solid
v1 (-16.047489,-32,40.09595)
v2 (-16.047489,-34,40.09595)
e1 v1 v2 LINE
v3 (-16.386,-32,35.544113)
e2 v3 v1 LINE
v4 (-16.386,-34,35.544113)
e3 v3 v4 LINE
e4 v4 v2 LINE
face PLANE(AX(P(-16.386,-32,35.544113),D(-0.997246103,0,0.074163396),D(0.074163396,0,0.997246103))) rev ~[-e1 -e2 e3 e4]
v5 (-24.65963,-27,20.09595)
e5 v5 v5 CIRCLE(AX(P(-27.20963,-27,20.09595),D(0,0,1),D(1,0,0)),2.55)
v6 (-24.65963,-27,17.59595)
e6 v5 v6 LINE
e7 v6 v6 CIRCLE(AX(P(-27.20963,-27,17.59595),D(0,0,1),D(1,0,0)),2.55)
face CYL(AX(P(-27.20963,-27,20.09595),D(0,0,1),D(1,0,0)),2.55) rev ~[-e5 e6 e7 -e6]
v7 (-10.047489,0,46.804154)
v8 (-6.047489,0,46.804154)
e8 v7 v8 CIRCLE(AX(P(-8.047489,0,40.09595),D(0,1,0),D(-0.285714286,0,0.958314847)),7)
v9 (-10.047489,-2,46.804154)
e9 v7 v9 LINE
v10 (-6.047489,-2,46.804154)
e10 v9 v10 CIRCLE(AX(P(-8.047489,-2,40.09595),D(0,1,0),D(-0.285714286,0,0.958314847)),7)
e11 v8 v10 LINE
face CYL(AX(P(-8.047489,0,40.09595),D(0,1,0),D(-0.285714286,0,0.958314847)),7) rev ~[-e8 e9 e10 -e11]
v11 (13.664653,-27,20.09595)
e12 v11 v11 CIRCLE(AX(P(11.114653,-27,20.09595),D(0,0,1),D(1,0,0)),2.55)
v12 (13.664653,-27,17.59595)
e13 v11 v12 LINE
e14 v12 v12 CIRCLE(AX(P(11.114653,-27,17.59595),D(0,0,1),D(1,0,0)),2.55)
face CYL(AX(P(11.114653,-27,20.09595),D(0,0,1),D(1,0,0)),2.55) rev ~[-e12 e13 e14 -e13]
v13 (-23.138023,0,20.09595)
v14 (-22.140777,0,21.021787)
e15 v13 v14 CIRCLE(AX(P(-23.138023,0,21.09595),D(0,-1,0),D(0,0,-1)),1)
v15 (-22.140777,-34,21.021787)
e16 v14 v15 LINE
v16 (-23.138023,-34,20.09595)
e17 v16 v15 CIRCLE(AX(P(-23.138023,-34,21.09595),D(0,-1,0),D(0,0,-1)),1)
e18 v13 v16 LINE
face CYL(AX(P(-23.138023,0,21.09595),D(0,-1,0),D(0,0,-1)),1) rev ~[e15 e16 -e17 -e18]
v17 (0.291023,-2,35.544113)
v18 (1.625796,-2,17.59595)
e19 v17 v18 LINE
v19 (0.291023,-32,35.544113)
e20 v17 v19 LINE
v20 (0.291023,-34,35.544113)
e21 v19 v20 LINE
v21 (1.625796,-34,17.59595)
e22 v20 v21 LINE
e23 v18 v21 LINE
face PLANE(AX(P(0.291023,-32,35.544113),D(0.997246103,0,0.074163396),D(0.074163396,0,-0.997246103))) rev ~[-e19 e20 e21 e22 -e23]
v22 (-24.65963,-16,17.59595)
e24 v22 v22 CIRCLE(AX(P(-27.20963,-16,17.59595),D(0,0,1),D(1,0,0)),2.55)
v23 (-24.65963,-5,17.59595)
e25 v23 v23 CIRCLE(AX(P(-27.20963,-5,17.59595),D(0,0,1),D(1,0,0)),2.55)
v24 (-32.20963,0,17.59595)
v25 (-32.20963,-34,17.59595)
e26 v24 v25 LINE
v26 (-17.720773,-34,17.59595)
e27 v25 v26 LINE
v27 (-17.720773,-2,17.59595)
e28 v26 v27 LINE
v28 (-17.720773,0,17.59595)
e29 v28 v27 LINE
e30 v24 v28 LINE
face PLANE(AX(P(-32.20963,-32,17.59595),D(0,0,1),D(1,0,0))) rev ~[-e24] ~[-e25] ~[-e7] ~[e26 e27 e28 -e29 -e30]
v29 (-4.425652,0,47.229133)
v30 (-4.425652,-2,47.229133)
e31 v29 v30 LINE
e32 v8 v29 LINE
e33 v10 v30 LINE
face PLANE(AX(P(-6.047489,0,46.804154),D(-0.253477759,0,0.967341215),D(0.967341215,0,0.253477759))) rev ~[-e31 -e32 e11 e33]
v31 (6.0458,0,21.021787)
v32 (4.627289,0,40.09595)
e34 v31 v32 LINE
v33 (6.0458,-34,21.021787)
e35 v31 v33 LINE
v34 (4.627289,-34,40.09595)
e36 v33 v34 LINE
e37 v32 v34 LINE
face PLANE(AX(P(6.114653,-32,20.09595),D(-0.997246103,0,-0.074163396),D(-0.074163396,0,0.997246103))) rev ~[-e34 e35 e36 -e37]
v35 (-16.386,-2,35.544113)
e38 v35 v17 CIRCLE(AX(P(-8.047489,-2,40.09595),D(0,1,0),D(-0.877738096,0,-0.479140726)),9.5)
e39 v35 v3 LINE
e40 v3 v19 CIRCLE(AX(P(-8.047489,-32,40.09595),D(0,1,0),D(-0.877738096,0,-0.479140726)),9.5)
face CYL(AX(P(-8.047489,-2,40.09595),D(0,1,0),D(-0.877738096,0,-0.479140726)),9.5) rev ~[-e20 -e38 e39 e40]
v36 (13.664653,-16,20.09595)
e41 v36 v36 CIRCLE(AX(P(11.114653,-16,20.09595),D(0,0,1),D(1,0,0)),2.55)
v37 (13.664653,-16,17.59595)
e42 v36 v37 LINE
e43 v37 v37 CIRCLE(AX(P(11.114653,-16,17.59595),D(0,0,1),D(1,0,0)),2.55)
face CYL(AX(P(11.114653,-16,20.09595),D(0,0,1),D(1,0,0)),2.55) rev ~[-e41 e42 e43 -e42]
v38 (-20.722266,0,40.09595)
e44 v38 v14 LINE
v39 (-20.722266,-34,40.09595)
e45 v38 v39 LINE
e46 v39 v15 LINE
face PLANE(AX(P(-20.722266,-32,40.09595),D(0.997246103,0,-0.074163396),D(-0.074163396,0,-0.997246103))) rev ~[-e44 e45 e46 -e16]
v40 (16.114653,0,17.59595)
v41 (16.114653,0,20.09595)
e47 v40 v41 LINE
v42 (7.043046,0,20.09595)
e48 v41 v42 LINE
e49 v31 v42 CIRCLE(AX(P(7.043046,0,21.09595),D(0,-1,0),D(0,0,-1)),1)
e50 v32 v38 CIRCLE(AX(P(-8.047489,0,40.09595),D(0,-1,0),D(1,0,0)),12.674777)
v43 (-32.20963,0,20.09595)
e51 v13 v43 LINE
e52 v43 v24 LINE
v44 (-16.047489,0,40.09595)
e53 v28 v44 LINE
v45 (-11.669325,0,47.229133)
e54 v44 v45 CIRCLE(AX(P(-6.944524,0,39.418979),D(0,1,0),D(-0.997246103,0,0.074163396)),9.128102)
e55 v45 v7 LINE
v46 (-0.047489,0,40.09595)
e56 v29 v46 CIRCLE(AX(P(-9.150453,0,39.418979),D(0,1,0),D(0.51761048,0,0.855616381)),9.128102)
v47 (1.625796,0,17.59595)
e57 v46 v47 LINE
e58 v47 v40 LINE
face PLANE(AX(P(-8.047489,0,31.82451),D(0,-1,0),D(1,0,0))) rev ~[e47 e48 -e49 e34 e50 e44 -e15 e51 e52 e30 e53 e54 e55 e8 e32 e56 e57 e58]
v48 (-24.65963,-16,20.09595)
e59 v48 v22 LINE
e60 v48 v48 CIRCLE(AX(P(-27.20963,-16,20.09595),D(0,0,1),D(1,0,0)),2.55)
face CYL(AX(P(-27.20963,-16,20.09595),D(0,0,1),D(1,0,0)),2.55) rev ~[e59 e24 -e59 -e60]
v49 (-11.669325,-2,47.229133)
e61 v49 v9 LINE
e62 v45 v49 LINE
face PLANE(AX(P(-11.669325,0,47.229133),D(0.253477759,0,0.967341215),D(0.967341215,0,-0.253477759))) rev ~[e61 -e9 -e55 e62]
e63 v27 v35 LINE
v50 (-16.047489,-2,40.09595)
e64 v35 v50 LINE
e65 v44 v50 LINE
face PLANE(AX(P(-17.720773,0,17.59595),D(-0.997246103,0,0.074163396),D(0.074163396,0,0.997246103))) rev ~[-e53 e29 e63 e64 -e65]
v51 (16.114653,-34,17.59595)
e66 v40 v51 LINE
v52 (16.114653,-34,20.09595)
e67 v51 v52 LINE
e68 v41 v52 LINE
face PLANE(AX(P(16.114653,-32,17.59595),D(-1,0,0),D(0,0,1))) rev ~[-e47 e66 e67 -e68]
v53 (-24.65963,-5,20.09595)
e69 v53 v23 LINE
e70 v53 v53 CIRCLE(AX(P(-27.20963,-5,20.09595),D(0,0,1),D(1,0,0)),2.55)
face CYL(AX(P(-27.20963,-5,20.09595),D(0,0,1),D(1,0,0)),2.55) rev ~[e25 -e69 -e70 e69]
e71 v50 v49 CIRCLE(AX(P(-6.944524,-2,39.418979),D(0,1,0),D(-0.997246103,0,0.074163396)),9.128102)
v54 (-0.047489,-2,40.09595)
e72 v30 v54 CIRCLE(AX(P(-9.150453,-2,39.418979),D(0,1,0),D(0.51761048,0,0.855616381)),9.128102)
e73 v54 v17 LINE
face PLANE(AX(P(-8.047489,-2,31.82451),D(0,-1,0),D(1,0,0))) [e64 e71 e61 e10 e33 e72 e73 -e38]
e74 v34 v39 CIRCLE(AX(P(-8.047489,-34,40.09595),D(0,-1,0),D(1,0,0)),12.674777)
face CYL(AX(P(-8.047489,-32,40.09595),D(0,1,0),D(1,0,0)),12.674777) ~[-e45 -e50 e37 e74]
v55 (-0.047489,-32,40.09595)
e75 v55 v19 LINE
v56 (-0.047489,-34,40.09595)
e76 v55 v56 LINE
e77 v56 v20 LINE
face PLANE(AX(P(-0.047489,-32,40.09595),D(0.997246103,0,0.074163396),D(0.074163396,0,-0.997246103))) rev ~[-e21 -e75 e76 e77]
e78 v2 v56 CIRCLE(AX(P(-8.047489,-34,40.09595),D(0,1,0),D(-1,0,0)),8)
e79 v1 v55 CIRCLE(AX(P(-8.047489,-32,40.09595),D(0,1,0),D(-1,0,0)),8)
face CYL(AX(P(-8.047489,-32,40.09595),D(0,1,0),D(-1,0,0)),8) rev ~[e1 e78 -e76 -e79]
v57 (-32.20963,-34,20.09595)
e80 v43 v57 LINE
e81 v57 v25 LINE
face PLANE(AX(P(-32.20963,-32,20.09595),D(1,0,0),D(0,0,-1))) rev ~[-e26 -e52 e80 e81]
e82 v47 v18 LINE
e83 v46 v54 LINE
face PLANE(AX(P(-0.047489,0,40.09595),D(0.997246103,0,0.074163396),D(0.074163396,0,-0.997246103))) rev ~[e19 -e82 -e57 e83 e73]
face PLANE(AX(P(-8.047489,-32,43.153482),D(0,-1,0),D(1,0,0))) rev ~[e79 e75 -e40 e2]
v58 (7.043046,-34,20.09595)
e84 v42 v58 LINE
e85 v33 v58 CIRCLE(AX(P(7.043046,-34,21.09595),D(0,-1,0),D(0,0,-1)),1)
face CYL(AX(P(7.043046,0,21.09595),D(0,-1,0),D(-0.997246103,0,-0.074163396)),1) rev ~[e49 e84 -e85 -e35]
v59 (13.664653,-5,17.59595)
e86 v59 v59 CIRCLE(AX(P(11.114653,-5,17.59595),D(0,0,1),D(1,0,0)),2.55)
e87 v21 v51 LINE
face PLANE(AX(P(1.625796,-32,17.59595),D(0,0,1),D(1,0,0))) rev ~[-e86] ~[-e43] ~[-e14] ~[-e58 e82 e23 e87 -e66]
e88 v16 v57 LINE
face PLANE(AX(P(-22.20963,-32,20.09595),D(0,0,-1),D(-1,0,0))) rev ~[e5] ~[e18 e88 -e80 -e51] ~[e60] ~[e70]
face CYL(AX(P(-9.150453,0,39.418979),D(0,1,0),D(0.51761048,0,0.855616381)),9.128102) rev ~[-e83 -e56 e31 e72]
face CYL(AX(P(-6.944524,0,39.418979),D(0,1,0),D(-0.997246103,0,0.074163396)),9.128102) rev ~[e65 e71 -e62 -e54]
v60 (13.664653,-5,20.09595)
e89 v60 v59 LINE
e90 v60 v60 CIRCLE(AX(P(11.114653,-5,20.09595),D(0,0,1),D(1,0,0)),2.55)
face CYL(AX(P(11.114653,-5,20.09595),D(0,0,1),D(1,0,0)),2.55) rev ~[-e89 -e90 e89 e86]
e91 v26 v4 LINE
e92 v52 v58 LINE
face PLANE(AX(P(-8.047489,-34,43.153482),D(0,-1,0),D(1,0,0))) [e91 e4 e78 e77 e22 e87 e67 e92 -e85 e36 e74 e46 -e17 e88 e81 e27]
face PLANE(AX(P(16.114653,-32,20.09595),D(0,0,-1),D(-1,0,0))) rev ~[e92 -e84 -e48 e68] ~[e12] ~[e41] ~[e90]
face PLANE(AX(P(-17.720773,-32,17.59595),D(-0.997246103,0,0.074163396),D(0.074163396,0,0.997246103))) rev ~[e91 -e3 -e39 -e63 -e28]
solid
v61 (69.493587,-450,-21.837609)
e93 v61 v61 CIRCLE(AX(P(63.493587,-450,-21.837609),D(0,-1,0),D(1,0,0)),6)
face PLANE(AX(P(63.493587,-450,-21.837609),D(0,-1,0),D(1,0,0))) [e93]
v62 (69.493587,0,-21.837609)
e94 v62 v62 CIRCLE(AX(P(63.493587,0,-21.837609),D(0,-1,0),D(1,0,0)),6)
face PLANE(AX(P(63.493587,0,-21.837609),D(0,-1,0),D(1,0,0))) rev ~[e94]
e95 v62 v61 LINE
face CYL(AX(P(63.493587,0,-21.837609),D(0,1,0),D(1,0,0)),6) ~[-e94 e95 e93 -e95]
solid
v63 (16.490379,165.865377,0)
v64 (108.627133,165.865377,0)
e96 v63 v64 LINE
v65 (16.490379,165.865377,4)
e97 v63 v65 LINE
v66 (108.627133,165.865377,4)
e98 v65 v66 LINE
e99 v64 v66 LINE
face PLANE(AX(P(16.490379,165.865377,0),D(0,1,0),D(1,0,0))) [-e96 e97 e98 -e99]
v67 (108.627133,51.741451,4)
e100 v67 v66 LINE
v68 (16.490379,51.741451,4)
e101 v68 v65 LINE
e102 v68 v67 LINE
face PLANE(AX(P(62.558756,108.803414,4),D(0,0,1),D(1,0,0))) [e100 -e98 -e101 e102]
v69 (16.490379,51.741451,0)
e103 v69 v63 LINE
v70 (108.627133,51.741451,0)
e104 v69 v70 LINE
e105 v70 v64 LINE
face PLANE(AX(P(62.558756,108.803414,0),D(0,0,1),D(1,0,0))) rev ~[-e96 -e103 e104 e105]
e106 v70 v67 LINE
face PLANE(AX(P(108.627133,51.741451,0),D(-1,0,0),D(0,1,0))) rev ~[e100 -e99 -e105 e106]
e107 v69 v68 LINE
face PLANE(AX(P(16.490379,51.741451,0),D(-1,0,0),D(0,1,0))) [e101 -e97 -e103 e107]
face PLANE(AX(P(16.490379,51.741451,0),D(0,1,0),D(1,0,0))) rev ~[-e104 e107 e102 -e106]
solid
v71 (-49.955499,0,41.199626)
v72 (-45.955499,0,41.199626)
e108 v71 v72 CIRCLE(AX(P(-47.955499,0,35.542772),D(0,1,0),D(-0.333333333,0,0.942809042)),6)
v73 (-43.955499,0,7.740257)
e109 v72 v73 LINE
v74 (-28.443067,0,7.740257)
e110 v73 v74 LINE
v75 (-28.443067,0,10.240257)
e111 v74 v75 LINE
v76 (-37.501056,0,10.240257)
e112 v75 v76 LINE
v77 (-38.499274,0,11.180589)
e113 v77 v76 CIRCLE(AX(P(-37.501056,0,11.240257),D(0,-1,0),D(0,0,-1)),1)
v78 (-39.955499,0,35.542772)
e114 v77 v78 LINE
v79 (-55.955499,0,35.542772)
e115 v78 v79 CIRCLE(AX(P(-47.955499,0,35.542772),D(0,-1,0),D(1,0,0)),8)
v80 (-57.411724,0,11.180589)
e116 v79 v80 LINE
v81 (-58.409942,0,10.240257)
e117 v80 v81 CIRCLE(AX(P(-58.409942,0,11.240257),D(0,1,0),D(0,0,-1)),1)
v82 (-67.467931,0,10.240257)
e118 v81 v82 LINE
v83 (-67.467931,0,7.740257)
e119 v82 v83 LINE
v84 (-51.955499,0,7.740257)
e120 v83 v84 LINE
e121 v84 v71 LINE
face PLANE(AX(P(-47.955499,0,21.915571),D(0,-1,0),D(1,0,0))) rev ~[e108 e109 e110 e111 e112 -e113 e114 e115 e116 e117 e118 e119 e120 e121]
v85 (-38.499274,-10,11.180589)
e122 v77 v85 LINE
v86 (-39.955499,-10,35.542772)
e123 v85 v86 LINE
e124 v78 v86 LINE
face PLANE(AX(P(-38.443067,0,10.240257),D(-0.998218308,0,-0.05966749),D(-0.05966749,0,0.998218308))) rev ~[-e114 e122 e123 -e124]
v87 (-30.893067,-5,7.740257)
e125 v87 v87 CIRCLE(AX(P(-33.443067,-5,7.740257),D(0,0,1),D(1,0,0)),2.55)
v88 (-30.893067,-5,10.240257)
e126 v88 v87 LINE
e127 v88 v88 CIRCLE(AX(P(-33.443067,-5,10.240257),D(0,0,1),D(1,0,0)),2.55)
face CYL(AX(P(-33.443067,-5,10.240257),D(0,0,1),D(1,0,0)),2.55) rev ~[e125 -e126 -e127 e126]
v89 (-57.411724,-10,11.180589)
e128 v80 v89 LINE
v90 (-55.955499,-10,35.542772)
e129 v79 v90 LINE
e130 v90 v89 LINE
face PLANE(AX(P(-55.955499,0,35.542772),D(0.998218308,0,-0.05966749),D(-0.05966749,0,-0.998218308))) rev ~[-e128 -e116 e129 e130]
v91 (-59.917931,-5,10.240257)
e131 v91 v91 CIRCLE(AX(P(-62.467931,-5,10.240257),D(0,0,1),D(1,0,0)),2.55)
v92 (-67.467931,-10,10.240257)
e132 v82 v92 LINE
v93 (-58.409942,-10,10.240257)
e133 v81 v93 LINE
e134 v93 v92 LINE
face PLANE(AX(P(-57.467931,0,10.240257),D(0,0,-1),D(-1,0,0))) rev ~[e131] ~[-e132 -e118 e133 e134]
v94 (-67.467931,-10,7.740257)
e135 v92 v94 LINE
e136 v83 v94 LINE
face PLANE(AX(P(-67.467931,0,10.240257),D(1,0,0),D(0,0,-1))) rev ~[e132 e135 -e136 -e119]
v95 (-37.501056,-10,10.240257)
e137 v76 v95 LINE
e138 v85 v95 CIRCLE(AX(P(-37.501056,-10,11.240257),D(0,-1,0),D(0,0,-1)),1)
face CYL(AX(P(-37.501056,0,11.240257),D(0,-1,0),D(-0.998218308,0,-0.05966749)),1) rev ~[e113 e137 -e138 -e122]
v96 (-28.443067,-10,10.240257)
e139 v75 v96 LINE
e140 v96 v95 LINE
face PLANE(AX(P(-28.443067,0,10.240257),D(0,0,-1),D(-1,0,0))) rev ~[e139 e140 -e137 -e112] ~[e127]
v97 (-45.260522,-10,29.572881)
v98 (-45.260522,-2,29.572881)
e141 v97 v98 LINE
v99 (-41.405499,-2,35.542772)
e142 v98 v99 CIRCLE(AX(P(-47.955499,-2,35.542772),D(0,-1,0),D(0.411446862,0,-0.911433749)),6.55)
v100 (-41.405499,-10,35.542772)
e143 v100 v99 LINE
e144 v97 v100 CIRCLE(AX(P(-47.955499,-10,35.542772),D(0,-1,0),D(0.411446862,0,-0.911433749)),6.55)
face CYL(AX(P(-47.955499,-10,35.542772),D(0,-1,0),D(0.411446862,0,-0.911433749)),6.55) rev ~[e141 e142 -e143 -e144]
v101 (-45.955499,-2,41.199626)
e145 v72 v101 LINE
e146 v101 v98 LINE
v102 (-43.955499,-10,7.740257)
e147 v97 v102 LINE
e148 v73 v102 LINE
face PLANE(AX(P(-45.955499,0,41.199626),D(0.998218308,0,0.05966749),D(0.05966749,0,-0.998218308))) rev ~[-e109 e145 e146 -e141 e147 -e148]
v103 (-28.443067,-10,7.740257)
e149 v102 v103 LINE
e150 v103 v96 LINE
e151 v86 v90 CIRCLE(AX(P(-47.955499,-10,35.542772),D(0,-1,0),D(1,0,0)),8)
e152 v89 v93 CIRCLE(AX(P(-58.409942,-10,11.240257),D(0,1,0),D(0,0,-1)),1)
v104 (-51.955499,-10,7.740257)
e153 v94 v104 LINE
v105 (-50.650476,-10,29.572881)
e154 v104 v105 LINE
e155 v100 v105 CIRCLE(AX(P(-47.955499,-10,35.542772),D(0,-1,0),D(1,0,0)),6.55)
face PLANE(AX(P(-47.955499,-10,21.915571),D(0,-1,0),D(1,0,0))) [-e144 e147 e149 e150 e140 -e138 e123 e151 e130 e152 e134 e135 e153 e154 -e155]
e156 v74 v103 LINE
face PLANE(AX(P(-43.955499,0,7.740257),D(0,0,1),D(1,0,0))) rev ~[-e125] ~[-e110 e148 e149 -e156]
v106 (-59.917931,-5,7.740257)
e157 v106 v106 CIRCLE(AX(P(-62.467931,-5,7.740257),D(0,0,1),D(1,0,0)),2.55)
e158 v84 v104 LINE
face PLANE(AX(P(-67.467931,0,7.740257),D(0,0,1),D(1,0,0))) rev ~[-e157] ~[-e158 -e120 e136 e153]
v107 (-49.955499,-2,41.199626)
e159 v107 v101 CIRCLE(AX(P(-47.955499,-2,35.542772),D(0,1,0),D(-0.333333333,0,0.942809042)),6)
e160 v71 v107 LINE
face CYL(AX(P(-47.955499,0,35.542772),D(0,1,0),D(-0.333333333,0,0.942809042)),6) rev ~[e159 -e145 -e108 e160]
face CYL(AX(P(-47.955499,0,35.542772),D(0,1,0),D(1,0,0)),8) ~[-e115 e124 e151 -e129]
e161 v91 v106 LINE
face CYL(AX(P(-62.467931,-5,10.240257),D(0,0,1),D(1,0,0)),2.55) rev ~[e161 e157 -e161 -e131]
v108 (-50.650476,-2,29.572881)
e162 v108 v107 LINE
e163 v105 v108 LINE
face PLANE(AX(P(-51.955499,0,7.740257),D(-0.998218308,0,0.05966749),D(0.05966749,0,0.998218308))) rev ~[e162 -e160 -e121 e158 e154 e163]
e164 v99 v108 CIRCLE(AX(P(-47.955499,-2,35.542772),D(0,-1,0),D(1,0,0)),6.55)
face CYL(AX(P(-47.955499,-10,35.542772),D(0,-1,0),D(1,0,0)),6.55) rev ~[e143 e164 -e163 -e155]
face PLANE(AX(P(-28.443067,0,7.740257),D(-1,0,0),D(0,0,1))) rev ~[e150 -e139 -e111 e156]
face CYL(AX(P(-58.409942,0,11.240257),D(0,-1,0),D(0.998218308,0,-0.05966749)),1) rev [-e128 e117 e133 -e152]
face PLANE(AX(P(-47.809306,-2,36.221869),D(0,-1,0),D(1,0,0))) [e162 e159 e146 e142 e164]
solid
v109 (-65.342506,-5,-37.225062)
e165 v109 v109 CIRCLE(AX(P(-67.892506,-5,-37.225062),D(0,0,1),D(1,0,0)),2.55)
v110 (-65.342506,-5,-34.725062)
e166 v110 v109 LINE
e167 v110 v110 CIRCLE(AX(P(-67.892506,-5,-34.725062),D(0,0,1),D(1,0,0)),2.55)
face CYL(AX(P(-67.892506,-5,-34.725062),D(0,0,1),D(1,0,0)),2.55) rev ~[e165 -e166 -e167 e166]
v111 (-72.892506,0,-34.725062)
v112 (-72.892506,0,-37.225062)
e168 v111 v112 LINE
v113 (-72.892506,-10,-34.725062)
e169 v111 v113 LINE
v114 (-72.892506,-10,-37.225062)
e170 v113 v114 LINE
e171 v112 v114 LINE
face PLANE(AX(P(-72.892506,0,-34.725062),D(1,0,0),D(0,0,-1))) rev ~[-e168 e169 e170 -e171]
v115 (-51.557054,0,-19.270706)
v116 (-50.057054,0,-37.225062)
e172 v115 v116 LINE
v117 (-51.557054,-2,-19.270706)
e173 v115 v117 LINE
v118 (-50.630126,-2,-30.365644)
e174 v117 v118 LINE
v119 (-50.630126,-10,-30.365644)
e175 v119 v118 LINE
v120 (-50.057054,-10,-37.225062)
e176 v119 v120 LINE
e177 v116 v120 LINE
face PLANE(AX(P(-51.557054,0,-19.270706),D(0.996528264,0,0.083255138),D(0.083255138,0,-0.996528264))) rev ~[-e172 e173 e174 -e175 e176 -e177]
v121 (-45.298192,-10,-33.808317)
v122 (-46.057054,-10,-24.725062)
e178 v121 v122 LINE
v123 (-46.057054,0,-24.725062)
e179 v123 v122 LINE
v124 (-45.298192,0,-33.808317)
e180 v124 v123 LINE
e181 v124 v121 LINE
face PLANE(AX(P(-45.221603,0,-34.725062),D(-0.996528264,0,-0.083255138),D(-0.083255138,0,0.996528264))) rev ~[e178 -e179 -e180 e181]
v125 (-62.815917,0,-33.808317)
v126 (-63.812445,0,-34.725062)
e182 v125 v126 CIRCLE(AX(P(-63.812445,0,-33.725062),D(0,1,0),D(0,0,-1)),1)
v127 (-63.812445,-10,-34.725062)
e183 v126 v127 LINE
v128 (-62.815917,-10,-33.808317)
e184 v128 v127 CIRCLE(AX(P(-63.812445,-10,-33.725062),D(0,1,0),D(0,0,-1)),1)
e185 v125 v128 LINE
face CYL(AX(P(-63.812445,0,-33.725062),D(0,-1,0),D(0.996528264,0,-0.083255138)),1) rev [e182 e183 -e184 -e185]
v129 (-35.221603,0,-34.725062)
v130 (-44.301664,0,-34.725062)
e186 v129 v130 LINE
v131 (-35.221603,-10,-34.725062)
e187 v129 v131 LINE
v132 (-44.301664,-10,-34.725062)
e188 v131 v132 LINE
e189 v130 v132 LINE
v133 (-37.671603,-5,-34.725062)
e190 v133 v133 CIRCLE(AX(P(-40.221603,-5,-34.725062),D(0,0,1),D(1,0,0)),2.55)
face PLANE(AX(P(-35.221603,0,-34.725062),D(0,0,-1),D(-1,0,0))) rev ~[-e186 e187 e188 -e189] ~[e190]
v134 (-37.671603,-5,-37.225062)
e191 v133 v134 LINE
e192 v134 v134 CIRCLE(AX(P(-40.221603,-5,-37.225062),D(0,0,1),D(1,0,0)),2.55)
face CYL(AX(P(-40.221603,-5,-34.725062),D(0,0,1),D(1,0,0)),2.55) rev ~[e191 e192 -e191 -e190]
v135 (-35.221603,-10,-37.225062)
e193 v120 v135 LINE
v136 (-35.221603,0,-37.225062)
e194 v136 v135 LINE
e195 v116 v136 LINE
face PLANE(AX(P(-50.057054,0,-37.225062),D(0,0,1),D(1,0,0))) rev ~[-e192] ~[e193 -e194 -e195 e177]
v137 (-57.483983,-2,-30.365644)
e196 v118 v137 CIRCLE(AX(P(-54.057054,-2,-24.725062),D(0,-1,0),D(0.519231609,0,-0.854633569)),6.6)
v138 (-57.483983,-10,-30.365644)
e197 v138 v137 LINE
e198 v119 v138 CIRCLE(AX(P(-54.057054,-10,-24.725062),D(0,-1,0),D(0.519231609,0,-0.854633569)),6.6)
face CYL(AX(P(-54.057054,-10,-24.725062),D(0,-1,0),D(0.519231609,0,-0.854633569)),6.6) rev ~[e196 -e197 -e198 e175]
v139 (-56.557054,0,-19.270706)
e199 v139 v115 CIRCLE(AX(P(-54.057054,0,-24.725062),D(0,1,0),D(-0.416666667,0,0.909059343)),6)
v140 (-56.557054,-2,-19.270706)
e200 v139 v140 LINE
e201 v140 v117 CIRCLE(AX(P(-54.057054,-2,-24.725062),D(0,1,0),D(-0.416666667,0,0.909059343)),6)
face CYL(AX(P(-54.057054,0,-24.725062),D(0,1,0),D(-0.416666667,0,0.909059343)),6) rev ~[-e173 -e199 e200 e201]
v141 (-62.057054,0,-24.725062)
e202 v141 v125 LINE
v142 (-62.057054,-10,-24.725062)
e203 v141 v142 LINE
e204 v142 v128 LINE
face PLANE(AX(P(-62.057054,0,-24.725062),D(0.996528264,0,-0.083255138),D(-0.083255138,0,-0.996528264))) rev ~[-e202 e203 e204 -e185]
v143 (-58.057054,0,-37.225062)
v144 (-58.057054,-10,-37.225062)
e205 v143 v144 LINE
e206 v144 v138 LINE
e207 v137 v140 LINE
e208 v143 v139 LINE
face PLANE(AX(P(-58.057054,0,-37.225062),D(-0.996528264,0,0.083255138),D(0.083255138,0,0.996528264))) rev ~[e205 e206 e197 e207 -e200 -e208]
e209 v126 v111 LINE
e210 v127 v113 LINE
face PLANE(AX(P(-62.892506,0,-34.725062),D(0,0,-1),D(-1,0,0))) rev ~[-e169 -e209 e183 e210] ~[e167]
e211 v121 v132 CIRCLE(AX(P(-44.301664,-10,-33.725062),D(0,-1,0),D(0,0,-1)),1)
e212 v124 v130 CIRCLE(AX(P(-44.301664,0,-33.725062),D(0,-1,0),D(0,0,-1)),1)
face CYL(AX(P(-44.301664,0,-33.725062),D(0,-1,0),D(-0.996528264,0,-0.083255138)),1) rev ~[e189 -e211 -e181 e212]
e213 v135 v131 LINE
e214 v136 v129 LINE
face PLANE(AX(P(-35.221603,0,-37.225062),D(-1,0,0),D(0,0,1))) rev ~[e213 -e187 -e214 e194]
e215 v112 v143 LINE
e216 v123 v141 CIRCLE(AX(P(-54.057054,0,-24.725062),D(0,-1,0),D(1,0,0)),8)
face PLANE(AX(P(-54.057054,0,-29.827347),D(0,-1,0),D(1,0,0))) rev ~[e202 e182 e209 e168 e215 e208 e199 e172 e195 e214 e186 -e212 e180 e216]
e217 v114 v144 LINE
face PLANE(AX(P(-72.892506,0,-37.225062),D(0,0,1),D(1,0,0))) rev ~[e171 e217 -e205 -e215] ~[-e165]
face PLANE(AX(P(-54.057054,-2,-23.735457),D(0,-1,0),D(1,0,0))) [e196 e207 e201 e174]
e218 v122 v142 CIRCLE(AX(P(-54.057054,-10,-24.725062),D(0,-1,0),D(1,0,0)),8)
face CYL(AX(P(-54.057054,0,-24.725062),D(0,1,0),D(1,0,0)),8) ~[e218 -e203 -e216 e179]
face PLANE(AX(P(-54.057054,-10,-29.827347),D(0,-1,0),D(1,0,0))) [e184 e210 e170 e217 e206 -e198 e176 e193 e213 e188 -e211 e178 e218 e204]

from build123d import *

# Parameters (mm, degrees)
F5_DEPTH  = 2
F7_DEPTH  = 10
F9_DEPTH  = 8
F10_DEPTH = 30
F11_R     = 2.55
F13_DEPTH = 2.5
F12_R     = 2.55
F14_DEPTH = 2.5
F15_R     = 2.55
F16_R     = 2.55
F17_DEPTH = 2.5
F19_DEPTH = 2
F20_R     = 1
F20_2_R   = 1
F22_DEPTH = 10
F24_R     = 2.55
F25_R     = 2.55
F26_DEPTH = 2.5
F27_R     = 1
F28_DEPTH = 8
F29_R     = 6
F30_DEPTH = 450
F31_W     = 92.136753723
F31_H     = 114.1239255667
F32_DEPTH = 4


with BuildPart() as f5:
    # F4 (on Front) → F5 (new body)
    with BuildSketch(Plane.XZ):
        with BuildLine():
            Line((6.114652846, 20.0959499925), (4.6272888825, 40.0959499925))
            ThreePointArc((4.6272888825, 40.0959499925), (-8.0474885181, 52.7707273931), (-20.7222659187, 40.0959499925))
            Line((-20.7222659187, 40.0959499925), (-22.2096298821, 20.0959499925))
            Line((-22.2096298821, 20.0959499925), (-32.2096298821, 20.0959499925))
            Line((-32.2096298821, 20.0959499925), (-32.2096298821, 17.5959499925))
            Line((-32.2096298821, 17.5959499925), (-17.720772977, 17.5959499925))
            Line((-17.720772977, 17.5959499925), (-16.0474885181, 40.0959499925))
            ThreePointArc((-16.0474885181, 40.0959499925), (-14.7241353227, 44.1939030544), (-11.6693254615, 47.2291328133))
            Line((-11.6693254615, 47.2291328133), (-10.0474885181, 46.804153925))
            ThreePointArc((-10.0474885181, 46.804153925), (-8.0474885181, 47.0959499925), (-6.0474885181, 46.804153925))
            Line((-6.0474885181, 46.804153925), (-4.4256515746, 47.2291328133))
            ThreePointArc((-4.4256515746, 47.2291328133), (-1.3708417134, 44.1939030544), (-0.0474885181, 40.0959499925))
            Line((-0.0474885181, 40.0959499925), (1.6257959408, 17.5959499925))
            Line((1.6257959408, 17.5959499925), (16.114652846, 17.5959499925))
            Line((16.114652846, 17.5959499925), (16.114652846, 20.0959499925))
            Line((16.114652846, 20.0959499925), (6.114652846, 20.0959499925))
        make_face()
    extrude(amount=F5_DEPTH)

    # F6 (on face) → F10 (join)
    with BuildSketch(Plane.XZ.offset(2)):
        with BuildLine():
            ThreePointArc((-16.3860004266, 35.544113094), (-8.0474885181, 49.5959499925), (0.2910233905, 35.544113094))
            Line((0.2910233905, 35.544113094), (1.6257959408, 17.5959499925))
            Line((1.6257959408, 17.5959499925), (16.114652846, 17.5959499925))
            Line((16.114652846, 17.5959499925), (16.114652846, 20.0959499925))
            Line((16.114652846, 20.0959499925), (6.114652846, 20.0959499925))
            Line((6.114652846, 20.0959499925), (4.6272888825, 40.0959499925))
            ThreePointArc((4.6272888825, 40.0959499925), (-8.0474885181, 52.7707273931), (-20.7222659187, 40.0959499925))
            Line((-20.7222659187, 40.0959499925), (-22.2096298821, 20.0959499925))
            Line((-22.2096298821, 20.0959499925), (-32.2096298821, 20.0959499925))
            Line((-32.2096298821, 20.0959499925), (-32.2096298821, 17.5959499925))
            Line((-32.2096298821, 17.5959499925), (-17.720772977, 17.5959499925))
            Line((-17.720772977, 17.5959499925), (-16.3860004266, 35.544113094))
        make_face()
    extrude(amount=F10_DEPTH)

    # F15 (on face) + F16 (on face) → F17 (cut, through all)
    with BuildSketch(Plane.XY.offset(20.0959499925)):
        with Locations((-27.2096298821, -5)):
            Circle(F15_R)
        with Locations((-27.2096298821, -16)):
            Circle(F15_R)
        with Locations((-27.2096298821, -27)):
            Circle(F15_R)
    with BuildSketch(Plane.XY.offset(20.0959499925)):
        with Locations((11.114652846, -27)):
            Circle(F16_R)
        with Locations((11.114652846, -16)):
            Circle(F16_R)
        with Locations((11.114652846, -5)):
            Circle(F16_R)
    extrude(amount=-F17_DEPTH, mode=Mode.SUBTRACT)

    # F18 (on face) → F19 (join)
    with BuildSketch(Plane.XZ.offset(32)):
        with BuildLine():
            ThreePointArc((-16.0474885181, 40.0959499925), (-8.0474885181, 48.0959499925), (-0.0474885181, 40.0959499925))
            Line((-0.0474885181, 40.0959499925), (0.2910233905, 35.544113094))
            ThreePointArc((0.2910233905, 35.544113094), (-8.0474885181, 49.5959499925), (-16.3860004266, 35.544113094))
            Line((-16.3860004266, 35.544113094), (-16.0474885181, 40.0959499925))
        make_face()
        with BuildLine():
            ThreePointArc((-16.3860004266, 35.544113094), (-8.0474885181, 49.5959499925), (0.2910233905, 35.544113094))
            Line((0.2910233905, 35.544113094), (1.6257959408, 17.5959499925))
            Line((1.6257959408, 17.5959499925), (16.114652846, 17.5959499925))
            Line((16.114652846, 17.5959499925), (16.114652846, 20.0959499925))
            Line((16.114652846, 20.0959499925), (6.114652846, 20.0959499925))
            Line((6.114652846, 20.0959499925), (4.6272888825, 40.0959499925))
            ThreePointArc((4.6272888825, 40.0959499925), (-8.0474885181, 52.7707273931), (-20.7222659187, 40.0959499925))
            Line((-20.7222659187, 40.0959499925), (-22.2096298821, 20.0959499925))
            Line((-22.2096298821, 20.0959499925), (-32.2096298821, 20.0959499925))
            Line((-32.2096298821, 20.0959499925), (-32.2096298821, 17.5959499925))
            Line((-32.2096298821, 17.5959499925), (-17.720772977, 17.5959499925))
            Line((-17.720772977, 17.5959499925), (-16.3860004266, 35.544113094))
        make_face()
    extrude(amount=F19_DEPTH)

    # F20
    f20_edges = [f5.edges().sort_by_distance(p)[0] for p in [
        (6.114653, -17, 20.09595),
        (-22.20963, -17, 20.09595),
    ]]
    fillet(f20_edges, radius=F20_R)


with BuildPart() as f7:
    # F3 (on Front) → F7 (new body)
    with BuildSketch(Plane.XZ):
        with BuildLine():
            Line((-38.4430666815, 10.2402567863), (-39.9554989645, 35.5427722446))
            ThreePointArc((-39.9554989645, 35.5427722446), (-47.9554989645, 43.5427722446), (-55.9554989645, 35.5427722446))
            Line((-55.9554989645, 35.5427722446), (-57.4679312476, 10.2402567863))
            Line((-57.4679312476, 10.2402567863), (-67.4679312476, 10.2402567863))
            Line((-67.4679312476, 10.2402567863), (-67.4679312476, 7.7402567863))
            Line((-67.4679312476, 7.7402567863), (-51.9554989645, 7.7402567863))
            Line((-51.9554989645, 7.7402567863), (-49.9554989645, 41.1996264941))
            ThreePointArc((-49.9554989645, 41.1996264941), (-47.9554989645, 41.5427722446), (-45.9554989645, 41.1996264941))
            Line((-45.9554989645, 41.1996264941), (-43.9554989645, 7.7402567863))
            Line((-43.9554989645, 7.7402567863), (-28.4430666815, 7.7402567863))
            Line((-28.4430666815, 7.7402567863), (-28.4430666815, 10.2402567863))
            Line((-28.4430666815, 10.2402567863), (-38.4430666815, 10.2402567863))
        make_face()
    extrude(amount=F7_DEPTH)

    # F8 (on face) → F9 (cut)
    with BuildSketch(Plane.XZ.offset(10)):
        with BuildLine():
            ThreePointArc((-45.2605220173, 29.5728811858), (-42.4530177513, 31.9895764299), (-41.4054989645, 35.5427722446))
            ThreePointArc((-41.4054989645, 35.5427722446), (-51.5086947793, 41.0452534578), (-50.6504759118, 29.5728811858))
            Line((-50.6504759118, 29.5728811858), (-49.9554989645, 41.1996264941))
            ThreePointArc((-49.9554989645, 41.1996264941), (-47.9554989645, 41.5427722446), (-45.9554989645, 41.1996264941))
            Line((-45.9554989645, 41.1996264941), (-45.2605220173, 29.5728811858))
        make_face()
    extrude(amount=-F9_DEPTH, mode=Mode.SUBTRACT)

    # F11 (on face) → F13 (cut, through all)
    with BuildSketch(Plane.XY.offset(10.2402567863)):
        with Locations((-62.4679312476, -5)):
            Circle(F11_R)
    extrude(amount=-F13_DEPTH, mode=Mode.SUBTRACT)

    # F12 (on face) → F14 (cut, through all)
    with BuildSketch(Plane.XY.offset(10.2402567863)):
        with Locations((-33.4430666815, -5)):
            Circle(F12_R)
    extrude(amount=-F14_DEPTH, mode=Mode.SUBTRACT)

    # F20#2
    f20_2_edges = [f7.edges().sort_by_distance(p)[0] for p in [
        (-38.443067, -5, 10.240257),
        (-57.467931, -5, 10.240257),
    ]]
    fillet(f20_2_edges, radius=F20_2_R)


with BuildPart() as f22:
    # F21 (on Front) → F22 (new body)
    with BuildSketch(Plane.XZ):
        with BuildLine():
            Line((-45.2216026043, -34.7250620283), (-46.0570544552, -24.7250620283))
            ThreePointArc((-46.0570544552, -24.7250620283), (-54.0570544552, -16.7250620283), (-62.0570544552, -24.7250620283))
            Line((-62.0570544552, -24.7250620283), (-62.8925063061, -34.7250620283))
            Line((-62.8925063061, -34.7250620283), (-72.8925063061, -34.7250620283))
            Line((-72.8925063061, -34.7250620283), (-72.8925063061, -37.2250620283))
            Line((-72.8925063061, -37.2250620283), (-58.0570544552, -37.2250620283))
            Line((-58.0570544552, -37.2250620283), (-56.5570544552, -19.270705971))
            ThreePointArc((-56.5570544552, -19.270705971), (-54.0570544552, -18.7250620283), (-51.5570544552, -19.270705971))
            Line((-51.5570544552, -19.270705971), (-50.0570544552, -37.2250620283))
            Line((-50.0570544552, -37.2250620283), (-35.2216026043, -37.2250620283))
            Line((-35.2216026043, -37.2250620283), (-35.2216026043, -34.7250620283))
            Line((-35.2216026043, -34.7250620283), (-45.2216026043, -34.7250620283))
        make_face()
    extrude(amount=F22_DEPTH)

    # F24 (on face) + F25 (on face) → F26 (cut, through all)
    with BuildSketch(Plane.XY.offset(-34.7250620283)):
        with Locations((-67.8925063061, -5)):
            Circle(F24_R)
    with BuildSketch(Plane.XY.offset(-34.7250620283)):
        with Locations((-40.2216026043, -5)):
            Circle(F25_R)
    extrude(amount=-F26_DEPTH, mode=Mode.SUBTRACT)

    # F27
    f27_edges = [f22.edges().sort_by_distance(p)[0] for p in [
        (-62.892506, -5, -34.725062),
        (-45.221603, -5, -34.725062),
    ]]
    fillet(f27_edges, radius=F27_R)

    # F23 (on face) → F28 (cut)
    with BuildSketch(Plane.XZ.offset(10)):
        with BuildLine():
            ThreePointArc((-50.6301258389, -30.3656435816), (-48.3047623526, -27.9609754336), (-47.4570544552, -24.7250620283))
            ThreePointArc((-47.4570544552, -24.7250620283), (-57.2929678604, -18.9727699257), (-57.4839830714, -30.3656435816))
            Line((-57.4839830714, -30.3656435816), (-56.5570544552, -19.270705971))
            ThreePointArc((-56.5570544552, -19.270705971), (-54.0570544552, -18.7250620283), (-51.5570544552, -19.270705971))
            Line((-51.5570544552, -19.270705971), (-50.6301258389, -30.3656435816))
        make_face()
    extrude(amount=-F28_DEPTH, mode=Mode.SUBTRACT)


with BuildPart() as f30:
    # F29 (on Front) → F30 (new body)
    with BuildSketch(Plane.XZ):
        with Locations((63.4935870767, -21.8376088887)):
            Circle(F29_R)
    extrude(amount=F30_DEPTH)


with BuildPart() as f32:
    # F31 (on Top) → F32 (new body)
    with BuildSketch(Plane.XY):
        with Locations((62.5587562099, 108.8034138083)):
            Rectangle(F31_W, F31_H)
    extrude(amount=F32_DEPTH)


solid = Compound([f5.part, f7.part, f22.part, f30.part, f32.part])
